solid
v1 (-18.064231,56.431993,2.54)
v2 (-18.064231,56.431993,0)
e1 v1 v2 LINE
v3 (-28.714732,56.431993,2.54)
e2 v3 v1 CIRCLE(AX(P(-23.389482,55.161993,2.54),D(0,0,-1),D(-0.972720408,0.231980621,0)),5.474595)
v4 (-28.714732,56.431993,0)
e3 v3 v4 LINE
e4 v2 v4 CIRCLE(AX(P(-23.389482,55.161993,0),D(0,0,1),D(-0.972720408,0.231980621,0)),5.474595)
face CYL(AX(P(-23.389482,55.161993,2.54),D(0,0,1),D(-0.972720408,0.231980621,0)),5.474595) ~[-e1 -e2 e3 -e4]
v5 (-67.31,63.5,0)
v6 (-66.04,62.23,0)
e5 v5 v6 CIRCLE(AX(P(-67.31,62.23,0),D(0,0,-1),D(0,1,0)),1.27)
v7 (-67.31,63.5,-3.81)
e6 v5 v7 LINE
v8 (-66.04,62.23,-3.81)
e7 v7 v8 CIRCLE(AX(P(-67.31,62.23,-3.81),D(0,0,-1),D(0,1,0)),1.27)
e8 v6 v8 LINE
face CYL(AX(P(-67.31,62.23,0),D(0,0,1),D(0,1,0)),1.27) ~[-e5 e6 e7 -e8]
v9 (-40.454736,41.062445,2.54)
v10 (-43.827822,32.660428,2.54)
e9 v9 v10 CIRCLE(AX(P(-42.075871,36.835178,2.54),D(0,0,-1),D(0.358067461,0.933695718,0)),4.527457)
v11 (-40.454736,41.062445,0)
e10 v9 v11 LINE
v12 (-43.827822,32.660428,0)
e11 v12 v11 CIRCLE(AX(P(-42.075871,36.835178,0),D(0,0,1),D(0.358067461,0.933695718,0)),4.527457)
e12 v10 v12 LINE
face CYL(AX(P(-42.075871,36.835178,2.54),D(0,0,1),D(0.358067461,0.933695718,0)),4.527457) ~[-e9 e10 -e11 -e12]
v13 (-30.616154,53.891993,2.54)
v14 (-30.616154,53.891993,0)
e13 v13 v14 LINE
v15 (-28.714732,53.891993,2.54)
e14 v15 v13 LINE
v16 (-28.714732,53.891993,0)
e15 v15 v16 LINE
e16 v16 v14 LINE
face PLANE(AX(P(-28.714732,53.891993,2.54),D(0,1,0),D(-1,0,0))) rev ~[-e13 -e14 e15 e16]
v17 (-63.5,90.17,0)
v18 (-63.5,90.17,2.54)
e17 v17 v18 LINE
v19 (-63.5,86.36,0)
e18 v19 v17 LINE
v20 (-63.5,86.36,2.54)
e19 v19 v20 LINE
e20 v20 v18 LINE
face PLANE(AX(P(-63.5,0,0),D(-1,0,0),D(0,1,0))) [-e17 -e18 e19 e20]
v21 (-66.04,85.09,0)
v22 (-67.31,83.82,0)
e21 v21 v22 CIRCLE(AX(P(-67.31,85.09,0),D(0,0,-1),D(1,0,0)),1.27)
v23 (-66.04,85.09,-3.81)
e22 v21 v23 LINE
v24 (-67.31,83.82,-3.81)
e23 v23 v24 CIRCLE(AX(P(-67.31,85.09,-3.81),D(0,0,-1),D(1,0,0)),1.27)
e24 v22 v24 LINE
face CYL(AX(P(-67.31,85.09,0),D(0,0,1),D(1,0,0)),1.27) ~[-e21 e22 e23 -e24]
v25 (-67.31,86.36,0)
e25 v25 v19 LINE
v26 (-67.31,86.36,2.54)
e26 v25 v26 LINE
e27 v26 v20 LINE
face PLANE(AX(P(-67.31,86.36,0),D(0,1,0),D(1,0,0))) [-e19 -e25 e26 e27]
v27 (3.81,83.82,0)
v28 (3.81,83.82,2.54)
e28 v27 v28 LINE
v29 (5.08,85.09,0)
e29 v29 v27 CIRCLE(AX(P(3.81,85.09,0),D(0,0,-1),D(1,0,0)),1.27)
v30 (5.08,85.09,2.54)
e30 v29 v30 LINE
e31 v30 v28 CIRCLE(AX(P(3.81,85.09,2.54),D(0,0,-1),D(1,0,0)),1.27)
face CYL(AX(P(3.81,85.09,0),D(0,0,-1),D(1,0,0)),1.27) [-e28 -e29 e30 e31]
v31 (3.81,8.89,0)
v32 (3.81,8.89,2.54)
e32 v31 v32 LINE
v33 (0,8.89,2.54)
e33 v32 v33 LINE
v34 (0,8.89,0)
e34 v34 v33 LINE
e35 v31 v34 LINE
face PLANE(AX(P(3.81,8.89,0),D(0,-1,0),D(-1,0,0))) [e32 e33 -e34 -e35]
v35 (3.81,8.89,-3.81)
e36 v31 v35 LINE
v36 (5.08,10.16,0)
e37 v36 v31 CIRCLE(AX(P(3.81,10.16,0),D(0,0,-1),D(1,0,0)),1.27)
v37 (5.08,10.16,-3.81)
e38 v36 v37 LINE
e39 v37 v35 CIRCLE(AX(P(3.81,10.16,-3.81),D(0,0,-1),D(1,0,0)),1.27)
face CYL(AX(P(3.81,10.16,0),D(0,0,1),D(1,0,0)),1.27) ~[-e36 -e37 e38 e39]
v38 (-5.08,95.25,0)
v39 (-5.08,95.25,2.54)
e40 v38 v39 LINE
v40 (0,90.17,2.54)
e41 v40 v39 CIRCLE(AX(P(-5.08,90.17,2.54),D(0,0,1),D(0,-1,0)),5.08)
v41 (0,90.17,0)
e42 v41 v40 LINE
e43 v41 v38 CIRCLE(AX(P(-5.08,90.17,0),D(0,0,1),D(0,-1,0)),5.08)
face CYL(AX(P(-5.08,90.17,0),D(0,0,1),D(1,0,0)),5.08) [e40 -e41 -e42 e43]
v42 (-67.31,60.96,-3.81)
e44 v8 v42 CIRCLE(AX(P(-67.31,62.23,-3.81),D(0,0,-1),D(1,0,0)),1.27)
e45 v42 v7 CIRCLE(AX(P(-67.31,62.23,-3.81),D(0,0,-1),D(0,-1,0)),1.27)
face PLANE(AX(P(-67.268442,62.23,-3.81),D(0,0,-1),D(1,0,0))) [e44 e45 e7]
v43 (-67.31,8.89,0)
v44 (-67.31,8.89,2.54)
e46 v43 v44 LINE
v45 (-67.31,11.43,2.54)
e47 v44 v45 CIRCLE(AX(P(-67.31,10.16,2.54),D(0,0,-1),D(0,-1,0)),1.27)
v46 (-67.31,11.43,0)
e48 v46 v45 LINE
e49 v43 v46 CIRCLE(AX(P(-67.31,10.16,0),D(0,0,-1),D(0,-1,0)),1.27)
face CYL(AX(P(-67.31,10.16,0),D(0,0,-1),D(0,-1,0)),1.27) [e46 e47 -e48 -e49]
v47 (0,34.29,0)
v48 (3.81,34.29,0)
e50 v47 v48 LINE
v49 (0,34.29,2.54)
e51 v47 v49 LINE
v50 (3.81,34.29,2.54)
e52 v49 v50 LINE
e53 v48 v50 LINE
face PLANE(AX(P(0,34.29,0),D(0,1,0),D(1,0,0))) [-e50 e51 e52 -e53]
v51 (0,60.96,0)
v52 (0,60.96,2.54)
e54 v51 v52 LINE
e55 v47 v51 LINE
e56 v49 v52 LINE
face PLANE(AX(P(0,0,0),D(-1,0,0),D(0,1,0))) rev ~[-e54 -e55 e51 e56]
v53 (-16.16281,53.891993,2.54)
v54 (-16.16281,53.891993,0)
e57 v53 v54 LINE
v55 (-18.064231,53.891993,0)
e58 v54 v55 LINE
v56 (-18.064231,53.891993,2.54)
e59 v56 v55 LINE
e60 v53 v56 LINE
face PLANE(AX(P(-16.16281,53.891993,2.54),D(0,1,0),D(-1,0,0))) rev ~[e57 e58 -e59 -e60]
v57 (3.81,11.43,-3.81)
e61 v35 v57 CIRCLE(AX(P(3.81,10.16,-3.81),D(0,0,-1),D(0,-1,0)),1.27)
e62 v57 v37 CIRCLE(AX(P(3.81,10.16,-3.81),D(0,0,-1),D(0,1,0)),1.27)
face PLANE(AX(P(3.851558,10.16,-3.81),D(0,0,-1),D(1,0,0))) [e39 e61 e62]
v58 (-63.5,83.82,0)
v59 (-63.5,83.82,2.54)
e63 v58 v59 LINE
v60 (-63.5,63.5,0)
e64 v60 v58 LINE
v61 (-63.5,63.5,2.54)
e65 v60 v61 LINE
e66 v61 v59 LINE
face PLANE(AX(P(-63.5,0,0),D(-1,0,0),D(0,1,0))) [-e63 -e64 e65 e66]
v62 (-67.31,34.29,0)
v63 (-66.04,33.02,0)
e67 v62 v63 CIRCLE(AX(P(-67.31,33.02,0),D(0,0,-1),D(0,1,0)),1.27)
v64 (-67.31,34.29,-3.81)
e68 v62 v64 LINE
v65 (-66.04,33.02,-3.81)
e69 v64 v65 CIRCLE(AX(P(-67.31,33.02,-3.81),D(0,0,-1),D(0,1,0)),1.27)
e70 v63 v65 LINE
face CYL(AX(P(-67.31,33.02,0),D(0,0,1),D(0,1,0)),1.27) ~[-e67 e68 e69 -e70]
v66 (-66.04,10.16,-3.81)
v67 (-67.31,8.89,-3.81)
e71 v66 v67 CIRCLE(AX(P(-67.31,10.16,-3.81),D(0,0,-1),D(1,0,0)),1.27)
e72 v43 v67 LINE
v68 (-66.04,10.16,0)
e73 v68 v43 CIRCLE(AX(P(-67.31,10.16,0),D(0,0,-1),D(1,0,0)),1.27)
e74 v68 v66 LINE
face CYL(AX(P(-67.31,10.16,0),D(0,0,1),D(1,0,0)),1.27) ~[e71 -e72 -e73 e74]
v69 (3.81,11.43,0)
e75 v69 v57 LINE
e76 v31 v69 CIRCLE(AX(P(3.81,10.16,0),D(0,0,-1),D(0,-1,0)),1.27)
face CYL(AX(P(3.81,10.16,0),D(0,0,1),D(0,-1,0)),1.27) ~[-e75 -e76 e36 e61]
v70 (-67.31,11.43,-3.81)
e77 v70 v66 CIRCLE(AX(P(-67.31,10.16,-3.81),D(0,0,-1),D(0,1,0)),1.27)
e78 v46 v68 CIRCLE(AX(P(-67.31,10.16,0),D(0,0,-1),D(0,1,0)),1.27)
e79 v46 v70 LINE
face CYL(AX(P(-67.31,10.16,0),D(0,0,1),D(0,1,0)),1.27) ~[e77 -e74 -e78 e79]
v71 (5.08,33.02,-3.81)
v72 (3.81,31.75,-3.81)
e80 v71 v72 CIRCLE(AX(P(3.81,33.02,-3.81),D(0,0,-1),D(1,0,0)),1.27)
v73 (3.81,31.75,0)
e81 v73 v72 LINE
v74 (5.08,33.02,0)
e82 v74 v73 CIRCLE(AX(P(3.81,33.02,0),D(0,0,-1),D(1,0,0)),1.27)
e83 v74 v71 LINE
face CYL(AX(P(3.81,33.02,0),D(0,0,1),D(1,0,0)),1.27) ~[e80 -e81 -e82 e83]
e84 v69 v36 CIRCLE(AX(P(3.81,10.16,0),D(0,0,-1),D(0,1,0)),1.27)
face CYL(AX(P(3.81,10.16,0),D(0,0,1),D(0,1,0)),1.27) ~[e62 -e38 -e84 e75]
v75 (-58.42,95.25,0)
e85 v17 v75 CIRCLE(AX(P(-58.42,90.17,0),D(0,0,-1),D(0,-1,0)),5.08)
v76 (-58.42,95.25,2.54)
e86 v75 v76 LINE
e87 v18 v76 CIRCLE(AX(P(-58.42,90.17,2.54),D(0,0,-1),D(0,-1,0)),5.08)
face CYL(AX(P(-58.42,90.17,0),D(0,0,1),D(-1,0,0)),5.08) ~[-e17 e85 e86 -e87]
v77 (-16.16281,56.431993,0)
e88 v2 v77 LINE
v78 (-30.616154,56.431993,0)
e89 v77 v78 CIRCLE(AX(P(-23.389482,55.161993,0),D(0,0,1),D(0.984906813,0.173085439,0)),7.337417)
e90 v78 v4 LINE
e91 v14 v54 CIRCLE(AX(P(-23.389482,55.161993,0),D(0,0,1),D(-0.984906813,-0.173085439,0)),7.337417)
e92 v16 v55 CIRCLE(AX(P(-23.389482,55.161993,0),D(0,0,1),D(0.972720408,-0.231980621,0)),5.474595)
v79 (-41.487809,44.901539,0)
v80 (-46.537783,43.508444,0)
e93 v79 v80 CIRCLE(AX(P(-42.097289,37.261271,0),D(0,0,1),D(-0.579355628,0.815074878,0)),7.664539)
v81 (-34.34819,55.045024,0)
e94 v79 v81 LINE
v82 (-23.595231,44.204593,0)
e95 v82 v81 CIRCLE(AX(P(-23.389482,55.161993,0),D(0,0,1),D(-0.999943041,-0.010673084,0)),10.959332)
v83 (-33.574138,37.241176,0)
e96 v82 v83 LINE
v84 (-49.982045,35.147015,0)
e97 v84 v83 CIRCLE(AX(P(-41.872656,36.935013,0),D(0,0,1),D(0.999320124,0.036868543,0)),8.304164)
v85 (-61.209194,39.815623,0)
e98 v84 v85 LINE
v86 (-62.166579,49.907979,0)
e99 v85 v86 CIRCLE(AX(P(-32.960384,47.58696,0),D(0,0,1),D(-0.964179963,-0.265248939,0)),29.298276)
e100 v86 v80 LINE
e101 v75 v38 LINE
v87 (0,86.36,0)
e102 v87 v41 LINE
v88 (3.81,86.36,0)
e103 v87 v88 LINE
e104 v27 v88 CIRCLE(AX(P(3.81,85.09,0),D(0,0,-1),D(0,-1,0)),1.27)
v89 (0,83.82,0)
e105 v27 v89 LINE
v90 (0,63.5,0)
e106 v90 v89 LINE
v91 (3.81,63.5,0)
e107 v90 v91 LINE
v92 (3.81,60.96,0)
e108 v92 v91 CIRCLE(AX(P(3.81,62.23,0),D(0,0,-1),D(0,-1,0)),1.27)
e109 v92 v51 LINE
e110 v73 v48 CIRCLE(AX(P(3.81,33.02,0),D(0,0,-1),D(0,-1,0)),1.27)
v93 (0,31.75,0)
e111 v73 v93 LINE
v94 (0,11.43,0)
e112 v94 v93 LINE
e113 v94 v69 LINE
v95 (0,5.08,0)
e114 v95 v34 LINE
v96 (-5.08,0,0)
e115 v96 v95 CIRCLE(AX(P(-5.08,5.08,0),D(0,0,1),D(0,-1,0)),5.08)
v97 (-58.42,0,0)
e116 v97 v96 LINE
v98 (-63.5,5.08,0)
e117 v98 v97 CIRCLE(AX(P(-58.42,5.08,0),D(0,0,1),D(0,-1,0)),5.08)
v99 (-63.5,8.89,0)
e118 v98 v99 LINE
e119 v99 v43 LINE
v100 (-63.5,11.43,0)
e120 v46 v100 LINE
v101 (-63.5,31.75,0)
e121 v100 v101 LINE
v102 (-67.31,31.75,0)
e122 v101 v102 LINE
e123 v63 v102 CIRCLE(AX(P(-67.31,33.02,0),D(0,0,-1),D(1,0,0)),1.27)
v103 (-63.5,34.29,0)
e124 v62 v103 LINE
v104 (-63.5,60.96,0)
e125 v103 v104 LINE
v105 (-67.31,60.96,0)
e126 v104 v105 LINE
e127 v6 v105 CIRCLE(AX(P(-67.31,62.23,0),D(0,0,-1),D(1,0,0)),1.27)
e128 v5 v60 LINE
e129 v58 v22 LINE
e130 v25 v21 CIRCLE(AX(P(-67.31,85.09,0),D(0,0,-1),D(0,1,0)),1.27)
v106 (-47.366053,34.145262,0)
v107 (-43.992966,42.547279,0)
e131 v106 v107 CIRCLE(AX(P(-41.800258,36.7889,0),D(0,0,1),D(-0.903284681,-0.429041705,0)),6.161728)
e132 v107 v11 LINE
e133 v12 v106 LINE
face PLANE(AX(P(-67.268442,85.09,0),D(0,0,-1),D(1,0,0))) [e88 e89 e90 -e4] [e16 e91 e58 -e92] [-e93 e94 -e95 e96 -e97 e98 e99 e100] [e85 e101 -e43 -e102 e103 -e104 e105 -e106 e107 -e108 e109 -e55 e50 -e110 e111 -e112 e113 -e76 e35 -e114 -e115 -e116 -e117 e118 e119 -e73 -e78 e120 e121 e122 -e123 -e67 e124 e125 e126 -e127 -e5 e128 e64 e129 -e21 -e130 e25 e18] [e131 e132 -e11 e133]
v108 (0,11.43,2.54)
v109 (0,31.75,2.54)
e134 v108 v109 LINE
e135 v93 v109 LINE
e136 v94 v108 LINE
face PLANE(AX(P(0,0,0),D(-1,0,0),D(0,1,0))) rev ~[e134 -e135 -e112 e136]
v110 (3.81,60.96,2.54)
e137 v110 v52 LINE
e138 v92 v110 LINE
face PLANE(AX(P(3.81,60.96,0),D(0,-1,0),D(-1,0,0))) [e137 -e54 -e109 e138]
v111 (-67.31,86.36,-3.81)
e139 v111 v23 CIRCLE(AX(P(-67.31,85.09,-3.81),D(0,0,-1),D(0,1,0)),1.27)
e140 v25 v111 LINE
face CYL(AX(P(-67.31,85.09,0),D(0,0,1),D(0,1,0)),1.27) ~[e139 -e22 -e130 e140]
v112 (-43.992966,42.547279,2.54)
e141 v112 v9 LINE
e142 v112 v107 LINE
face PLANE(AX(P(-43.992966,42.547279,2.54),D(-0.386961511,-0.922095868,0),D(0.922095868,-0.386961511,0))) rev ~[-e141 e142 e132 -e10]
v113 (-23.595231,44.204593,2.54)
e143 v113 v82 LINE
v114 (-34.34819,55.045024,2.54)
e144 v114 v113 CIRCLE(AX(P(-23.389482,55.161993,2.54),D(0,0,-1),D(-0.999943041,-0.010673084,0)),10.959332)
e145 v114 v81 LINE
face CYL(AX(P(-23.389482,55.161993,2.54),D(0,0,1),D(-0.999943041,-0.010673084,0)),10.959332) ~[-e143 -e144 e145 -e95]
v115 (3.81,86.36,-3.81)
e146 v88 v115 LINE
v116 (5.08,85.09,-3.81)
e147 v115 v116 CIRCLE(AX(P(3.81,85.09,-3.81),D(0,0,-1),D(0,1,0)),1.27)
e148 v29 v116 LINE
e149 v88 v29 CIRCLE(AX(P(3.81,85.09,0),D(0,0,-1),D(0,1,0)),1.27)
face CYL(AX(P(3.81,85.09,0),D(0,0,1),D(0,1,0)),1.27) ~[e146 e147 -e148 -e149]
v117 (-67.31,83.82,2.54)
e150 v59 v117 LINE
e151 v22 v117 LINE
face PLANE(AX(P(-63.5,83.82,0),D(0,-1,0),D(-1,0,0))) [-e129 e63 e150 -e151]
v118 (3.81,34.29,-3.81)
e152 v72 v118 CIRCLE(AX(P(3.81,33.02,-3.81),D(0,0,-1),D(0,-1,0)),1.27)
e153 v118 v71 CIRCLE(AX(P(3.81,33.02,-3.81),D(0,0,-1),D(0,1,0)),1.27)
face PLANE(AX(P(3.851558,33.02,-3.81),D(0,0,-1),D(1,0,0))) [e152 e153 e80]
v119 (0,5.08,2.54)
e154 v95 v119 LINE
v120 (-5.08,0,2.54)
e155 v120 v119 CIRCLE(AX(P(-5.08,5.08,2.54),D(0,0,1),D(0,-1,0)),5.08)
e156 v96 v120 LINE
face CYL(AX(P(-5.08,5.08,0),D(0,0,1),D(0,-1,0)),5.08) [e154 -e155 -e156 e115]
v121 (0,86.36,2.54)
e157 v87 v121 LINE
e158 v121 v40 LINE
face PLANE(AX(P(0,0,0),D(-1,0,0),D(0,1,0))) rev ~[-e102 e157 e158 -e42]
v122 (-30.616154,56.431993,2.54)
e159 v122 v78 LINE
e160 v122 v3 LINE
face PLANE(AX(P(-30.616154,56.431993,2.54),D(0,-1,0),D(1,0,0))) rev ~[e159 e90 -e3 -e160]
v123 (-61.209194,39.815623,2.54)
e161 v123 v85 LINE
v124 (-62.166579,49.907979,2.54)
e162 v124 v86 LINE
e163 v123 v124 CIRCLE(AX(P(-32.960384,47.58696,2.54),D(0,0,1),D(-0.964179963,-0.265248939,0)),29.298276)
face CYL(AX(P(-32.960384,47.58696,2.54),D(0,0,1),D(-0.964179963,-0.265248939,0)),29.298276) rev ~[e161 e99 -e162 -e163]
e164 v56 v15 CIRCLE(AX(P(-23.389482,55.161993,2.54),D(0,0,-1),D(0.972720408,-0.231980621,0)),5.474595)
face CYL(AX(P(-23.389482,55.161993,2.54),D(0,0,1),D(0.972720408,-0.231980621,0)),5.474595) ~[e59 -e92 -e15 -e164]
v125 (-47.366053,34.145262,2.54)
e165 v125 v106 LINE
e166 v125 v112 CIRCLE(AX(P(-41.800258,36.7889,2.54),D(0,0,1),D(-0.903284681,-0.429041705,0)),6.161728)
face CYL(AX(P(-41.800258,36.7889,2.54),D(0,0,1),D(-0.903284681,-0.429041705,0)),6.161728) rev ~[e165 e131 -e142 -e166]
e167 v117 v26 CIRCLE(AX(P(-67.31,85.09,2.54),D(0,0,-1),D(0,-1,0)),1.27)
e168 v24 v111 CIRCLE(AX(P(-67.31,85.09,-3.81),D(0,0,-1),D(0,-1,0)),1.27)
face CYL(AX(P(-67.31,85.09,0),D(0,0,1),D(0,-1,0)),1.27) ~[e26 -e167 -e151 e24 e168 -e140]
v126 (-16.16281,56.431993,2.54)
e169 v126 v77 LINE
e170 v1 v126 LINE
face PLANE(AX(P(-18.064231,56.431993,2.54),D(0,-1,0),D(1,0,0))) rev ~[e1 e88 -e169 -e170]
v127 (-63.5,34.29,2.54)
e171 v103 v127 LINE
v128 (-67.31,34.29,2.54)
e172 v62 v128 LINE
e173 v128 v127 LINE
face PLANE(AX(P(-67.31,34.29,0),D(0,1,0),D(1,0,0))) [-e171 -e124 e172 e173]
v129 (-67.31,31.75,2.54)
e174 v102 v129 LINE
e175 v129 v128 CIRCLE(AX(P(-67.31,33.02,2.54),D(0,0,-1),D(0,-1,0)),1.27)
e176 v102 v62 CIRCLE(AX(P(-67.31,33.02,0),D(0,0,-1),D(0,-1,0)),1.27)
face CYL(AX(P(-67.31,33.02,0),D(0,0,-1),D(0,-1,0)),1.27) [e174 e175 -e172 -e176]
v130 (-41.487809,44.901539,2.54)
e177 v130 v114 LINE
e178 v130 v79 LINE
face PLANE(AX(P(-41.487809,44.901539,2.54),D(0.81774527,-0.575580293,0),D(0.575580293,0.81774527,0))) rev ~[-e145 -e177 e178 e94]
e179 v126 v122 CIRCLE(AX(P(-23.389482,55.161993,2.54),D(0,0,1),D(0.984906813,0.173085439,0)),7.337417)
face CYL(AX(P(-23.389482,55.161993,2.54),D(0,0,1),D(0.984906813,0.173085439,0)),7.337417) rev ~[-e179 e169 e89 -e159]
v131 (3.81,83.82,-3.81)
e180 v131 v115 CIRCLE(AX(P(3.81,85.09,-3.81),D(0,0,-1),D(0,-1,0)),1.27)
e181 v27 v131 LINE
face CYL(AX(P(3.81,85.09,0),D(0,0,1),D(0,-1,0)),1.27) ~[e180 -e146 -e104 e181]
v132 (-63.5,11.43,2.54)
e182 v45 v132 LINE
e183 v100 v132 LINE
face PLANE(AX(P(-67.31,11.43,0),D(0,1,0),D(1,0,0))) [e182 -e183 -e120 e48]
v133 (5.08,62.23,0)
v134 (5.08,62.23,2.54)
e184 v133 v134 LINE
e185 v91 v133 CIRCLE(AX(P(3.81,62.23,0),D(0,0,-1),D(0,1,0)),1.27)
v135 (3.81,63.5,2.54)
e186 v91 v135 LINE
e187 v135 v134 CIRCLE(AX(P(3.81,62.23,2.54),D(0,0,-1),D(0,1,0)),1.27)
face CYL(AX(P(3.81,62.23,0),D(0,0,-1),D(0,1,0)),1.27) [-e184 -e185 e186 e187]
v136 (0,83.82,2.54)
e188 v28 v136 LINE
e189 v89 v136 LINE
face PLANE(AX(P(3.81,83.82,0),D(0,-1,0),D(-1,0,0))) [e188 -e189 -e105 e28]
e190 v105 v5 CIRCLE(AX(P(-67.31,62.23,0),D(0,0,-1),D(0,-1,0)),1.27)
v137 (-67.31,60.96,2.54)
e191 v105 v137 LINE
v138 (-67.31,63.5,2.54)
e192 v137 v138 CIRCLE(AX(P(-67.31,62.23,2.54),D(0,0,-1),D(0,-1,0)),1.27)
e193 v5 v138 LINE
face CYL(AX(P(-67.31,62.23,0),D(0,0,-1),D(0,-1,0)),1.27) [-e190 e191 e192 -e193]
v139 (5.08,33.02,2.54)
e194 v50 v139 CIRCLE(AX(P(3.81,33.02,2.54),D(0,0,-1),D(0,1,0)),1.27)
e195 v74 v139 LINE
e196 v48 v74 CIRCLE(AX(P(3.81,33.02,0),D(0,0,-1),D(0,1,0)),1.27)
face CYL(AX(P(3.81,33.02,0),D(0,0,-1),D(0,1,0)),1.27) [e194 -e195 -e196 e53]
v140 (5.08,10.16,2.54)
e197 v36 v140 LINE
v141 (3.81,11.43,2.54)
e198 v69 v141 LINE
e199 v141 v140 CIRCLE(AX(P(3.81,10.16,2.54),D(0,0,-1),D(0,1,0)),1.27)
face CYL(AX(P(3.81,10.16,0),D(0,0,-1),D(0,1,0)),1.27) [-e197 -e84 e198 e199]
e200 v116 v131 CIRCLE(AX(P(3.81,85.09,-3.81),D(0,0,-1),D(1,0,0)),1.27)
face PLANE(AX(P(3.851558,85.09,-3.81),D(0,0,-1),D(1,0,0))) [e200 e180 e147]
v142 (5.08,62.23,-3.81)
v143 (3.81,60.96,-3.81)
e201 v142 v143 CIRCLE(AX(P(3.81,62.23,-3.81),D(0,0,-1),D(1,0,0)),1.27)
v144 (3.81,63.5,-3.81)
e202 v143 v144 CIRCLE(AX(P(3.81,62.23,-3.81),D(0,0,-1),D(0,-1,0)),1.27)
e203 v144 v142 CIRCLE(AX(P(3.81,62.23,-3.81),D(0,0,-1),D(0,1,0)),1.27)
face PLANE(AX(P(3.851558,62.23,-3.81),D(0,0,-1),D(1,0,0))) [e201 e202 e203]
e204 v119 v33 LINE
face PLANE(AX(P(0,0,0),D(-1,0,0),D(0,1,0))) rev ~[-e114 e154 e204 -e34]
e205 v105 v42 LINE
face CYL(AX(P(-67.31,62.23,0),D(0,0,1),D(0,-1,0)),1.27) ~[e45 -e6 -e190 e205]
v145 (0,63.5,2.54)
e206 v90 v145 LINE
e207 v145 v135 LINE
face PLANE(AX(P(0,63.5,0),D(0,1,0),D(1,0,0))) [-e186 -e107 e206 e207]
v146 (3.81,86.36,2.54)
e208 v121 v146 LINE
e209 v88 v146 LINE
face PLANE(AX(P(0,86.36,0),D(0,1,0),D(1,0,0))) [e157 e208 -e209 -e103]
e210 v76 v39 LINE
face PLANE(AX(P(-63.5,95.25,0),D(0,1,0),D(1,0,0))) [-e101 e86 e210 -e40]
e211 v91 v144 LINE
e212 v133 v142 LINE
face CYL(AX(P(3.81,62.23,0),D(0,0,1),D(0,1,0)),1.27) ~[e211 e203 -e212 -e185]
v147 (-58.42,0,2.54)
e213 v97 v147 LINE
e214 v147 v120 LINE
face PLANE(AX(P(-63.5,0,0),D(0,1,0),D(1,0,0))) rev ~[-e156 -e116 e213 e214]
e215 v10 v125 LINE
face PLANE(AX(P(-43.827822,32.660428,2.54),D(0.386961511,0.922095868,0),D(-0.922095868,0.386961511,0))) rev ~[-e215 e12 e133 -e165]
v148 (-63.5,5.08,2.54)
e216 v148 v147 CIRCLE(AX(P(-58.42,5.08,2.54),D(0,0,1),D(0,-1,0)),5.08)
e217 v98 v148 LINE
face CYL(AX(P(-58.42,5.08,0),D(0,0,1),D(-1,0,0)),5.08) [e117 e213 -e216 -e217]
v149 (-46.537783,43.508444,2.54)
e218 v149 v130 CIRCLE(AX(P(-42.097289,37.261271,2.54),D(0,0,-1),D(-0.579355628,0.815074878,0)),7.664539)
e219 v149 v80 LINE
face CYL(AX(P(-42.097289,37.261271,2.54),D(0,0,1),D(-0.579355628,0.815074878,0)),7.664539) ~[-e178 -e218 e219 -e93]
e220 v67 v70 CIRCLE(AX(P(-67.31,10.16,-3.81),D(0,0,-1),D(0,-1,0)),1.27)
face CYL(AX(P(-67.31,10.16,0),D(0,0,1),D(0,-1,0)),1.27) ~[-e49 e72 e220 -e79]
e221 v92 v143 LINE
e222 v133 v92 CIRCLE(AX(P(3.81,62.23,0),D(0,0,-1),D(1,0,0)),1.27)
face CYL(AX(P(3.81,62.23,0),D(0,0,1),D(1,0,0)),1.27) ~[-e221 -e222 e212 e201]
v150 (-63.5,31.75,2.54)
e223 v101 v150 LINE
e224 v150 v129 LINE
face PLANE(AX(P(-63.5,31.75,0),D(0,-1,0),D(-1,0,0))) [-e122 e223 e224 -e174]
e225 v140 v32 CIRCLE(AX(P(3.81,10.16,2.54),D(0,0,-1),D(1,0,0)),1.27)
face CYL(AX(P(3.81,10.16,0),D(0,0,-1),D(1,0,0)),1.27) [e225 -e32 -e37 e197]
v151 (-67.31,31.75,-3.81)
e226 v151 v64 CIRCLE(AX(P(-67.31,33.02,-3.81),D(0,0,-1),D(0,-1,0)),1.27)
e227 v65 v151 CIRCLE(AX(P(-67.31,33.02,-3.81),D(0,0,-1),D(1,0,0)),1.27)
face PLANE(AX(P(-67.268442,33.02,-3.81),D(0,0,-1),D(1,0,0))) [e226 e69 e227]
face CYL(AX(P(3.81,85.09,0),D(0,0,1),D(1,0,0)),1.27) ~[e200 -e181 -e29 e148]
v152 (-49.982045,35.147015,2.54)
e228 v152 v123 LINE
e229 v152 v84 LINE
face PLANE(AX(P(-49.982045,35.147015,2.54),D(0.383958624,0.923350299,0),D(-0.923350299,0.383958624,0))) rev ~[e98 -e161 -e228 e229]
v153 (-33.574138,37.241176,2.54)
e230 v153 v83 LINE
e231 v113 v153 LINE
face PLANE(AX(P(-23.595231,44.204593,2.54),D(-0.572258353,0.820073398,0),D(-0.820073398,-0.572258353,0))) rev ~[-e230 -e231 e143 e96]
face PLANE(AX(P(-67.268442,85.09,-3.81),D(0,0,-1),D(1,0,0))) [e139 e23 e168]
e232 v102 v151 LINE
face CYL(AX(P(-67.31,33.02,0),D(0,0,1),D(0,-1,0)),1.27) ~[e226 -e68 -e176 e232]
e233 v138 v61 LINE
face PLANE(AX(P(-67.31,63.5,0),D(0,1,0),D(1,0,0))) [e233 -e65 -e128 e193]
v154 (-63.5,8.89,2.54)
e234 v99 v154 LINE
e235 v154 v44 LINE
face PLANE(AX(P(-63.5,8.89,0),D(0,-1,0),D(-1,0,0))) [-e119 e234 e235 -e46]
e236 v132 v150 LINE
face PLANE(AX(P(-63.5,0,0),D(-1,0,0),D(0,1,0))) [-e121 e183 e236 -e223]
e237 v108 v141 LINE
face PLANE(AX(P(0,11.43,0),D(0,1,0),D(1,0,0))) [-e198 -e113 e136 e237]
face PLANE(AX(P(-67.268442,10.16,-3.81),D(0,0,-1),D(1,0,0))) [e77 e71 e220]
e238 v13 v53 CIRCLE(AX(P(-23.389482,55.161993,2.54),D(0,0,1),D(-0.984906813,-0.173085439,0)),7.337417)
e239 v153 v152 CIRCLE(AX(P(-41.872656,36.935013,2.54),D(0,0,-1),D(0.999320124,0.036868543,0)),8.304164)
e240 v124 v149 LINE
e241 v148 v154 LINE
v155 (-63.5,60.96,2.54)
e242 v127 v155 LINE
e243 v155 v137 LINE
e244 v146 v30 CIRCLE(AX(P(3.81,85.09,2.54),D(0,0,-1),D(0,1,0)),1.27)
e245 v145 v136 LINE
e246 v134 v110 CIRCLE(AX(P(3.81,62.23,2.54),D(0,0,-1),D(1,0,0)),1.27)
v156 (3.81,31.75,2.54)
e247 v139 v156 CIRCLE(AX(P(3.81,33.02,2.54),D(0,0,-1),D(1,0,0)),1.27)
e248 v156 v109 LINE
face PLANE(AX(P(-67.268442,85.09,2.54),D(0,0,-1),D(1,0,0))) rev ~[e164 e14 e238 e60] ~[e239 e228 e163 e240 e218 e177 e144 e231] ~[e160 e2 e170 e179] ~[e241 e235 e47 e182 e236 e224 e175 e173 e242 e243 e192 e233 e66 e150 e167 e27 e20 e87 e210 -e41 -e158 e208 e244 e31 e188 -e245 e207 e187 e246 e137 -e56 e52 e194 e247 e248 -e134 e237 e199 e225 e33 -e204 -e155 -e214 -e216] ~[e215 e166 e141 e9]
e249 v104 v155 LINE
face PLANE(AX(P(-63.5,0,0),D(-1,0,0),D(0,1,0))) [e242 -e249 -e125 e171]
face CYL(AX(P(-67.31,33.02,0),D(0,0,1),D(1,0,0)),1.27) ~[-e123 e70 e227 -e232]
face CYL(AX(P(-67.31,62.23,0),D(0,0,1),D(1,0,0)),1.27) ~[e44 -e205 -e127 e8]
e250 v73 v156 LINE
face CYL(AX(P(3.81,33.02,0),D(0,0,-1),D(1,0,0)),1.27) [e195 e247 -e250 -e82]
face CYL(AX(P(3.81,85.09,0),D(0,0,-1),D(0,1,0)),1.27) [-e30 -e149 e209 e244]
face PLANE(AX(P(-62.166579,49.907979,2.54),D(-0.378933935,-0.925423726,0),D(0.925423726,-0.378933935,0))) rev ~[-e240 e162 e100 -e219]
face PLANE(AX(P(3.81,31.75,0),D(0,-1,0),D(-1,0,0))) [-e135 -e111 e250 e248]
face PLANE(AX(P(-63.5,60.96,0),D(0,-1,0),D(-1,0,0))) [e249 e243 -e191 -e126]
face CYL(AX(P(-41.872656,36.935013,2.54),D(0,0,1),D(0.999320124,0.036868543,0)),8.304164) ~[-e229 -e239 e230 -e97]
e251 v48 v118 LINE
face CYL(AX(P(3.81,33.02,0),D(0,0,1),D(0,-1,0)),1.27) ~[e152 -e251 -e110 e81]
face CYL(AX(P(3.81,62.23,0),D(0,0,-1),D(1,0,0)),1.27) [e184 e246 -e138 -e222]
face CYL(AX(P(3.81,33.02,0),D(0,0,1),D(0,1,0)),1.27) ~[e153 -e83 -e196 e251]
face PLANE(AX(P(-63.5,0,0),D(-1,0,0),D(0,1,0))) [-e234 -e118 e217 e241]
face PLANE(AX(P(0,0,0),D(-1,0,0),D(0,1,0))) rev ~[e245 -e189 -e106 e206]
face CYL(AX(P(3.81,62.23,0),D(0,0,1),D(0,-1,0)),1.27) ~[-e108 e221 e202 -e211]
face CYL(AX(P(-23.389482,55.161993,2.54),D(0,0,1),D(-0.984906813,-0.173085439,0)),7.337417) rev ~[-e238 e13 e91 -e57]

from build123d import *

# Parameters (mm, degrees)
F0_W          = 63.5
F0_H          = 95.25
F1_DEPTH      = 2.54
F2_R          = 5.08
F4_DEPTH      = 2.541
F6_DEPTH      = 2.54
F7_DEPTH      = 2.54
F7_DEPTH_BACK = 3.81


with BuildPart() as f1:
    # F0 (on Top) → F1 (new body)
    with BuildSketch(Plane.XY):
        with Locations((-31.75, 47.625)):
            Rectangle(F0_W, F0_H)
    extrude(amount=F1_DEPTH)

    # F2
    f2_edges = [f1.edges().sort_by_distance(p)[0] for p in [
        (-63.5, 0, 1.27),
        (0, 0, 1.27),
        (0, 95.25, 1.27),
        (-63.5, 95.25, 1.27),
    ]]
    fillet(f2_edges, radius=F2_R)

    # F3 (on face) → F4 (cut, through all)
    with BuildSketch(Plane.XY.offset(2.54)):
        with BuildLine():
            ThreePointArc((-28.7147323039, 56.4319934356), (-23.3894818135, 60.6365886522), (-18.0642313231, 56.4319934356))
            Line((-18.0642313231, 56.4319934356), (-16.1628100576, 56.4319934356))
            ThreePointArc((-16.1628100576, 56.4319934356), (-23.3894818135, 62.4994101926), (-30.6161535693, 56.4319934356))
            Line((-30.6161535693, 56.4319934356), (-28.7147323039, 56.4319934356))
        make_face()
        with BuildLine():
            Line((-16.1628100576, 53.8919934356), (-18.0642313231, 53.8919934356))
            ThreePointArc((-18.0642313231, 53.8919934356), (-23.3894818135, 49.687398219), (-28.7147323039, 53.8919934356))
            Line((-28.7147323039, 53.8919934356), (-30.6161535693, 53.8919934356))
            ThreePointArc((-30.6161535693, 53.8919934356), (-23.3894818135, 47.8245766785), (-16.1628100576, 53.8919934356))
        make_face()
        with BuildLine():
            ThreePointArc((-61.2091943622, 39.8156233132), (-3.7930509667, 50.3538420797), (-62.1665790677, 49.9079786241))
            Line((-62.1665790677, 49.9079786241), (-46.5377829969, 43.5084439814))
            ThreePointArc((-46.5377829969, 43.5084439814), (-44.1355102318, 44.6498304086), (-41.4878092706, 44.9015386403))
            Line((-41.4878092706, 44.9015386403), (-34.3481898308, 55.0450235605))
            ThreePointArc((-34.3481898308, 55.0450235605), (-15.6087357363, 62.8799564987), (-23.5952306539, 44.2045927048))
            Line((-23.5952306539, 44.2045927048), (-33.5741378367, 37.2411757708))
            ThreePointArc((-33.5741378367, 37.2411757708), (-40.8213137183, 28.6976707936), (-49.9820448458, 35.1470150054))
            Line((-49.9820448458, 35.1470150054), (-61.2091943622, 39.8156233132))
        make_face()
        with BuildLine():
            ThreePointArc((-47.366052866, 34.1452620924), (-36.0821241079, 34.4932892416), (-43.9929661581, 42.5472788847))
            Line((-43.9929661581, 42.5472788847), (-40.4547355891, 41.0624451561))
            ThreePointArc((-40.4547355891, 41.0624451561), (-37.8743531006, 35.1484300856), (-43.827822297, 32.6604283638))
            Line((-43.827822297, 32.6604283638), (-47.366052866, 34.1452620924))
        make_face()
    extrude(amount=-F4_DEPTH, mode=Mode.SUBTRACT)

    # F5 (on face) → F6 (join)
    with BuildSketch(Plane(origin=(0, 0, 0), x_dir=(1, 0, 0), z_dir=(0, 0, -1))):
        with BuildLine():
            Line((-63.5, -86.36), (-63.5, -83.82))
            Line((-63.5, -83.82), (-67.31, -83.82))
            ThreePointArc((-67.31, -83.82), (-66.4119743879, -84.1919743879), (-66.04, -85.09))
            ThreePointArc((-66.04, -85.09), (-66.4119743879, -85.9880256121), (-67.31, -86.36))
            Line((-67.31, -86.36), (-63.5, -86.36))
        make_face()
        with BuildLine():
            Line((-63.5, -63.5), (-63.5, -60.96))
            Line((-63.5, -60.96), (-67.31, -60.96))
            ThreePointArc((-67.31, -60.96), (-66.4119743879, -61.3319743879), (-66.04, -62.23))
            ThreePointArc((-66.04, -62.23), (-66.4119743879, -63.1280256121), (-67.31, -63.5))
            Line((-67.31, -63.5), (-63.5, -63.5))
        make_face()
        with BuildLine():
            Line((-63.5, -34.29), (-63.5, -31.75))
            Line((-63.5, -31.75), (-67.31, -31.75))
            ThreePointArc((-67.31, -31.75), (-66.4119743879, -32.1219743879), (-66.04, -33.02))
            ThreePointArc((-66.04, -33.02), (-66.4119743879, -33.9180256121), (-67.31, -34.29))
            Line((-67.31, -34.29), (-63.5, -34.29))
        make_face()
        with BuildLine():
            ThreePointArc((-67.31, -8.89), (-66.4119743879, -9.2619743879), (-66.04, -10.16))
            ThreePointArc((-66.04, -10.16), (-66.4119743879, -11.0580256121), (-67.31, -11.43))
            Line((-67.31, -11.43), (-63.5, -11.43))
            Line((-63.5, -11.43), (-63.5, -8.89))
            Line((-63.5, -8.89), (-67.31, -8.89))
        make_face()
        with BuildLine():
            Line((3.81, -8.89), (0, -8.89))
            Line((0, -8.89), (0, -11.43))
            Line((0, -11.43), (3.81, -11.43))
            ThreePointArc((3.81, -11.43), (2.54, -10.16), (3.81, -8.89))
        make_face()
        with BuildLine():
            Line((3.81, -31.75), (0, -31.75))
            Line((0, -31.75), (0, -34.29))
            Line((0, -34.29), (3.81, -34.29))
            ThreePointArc((3.81, -34.29), (2.54, -33.02), (3.81, -31.75))
        make_face()
        with BuildLine():
            Line((3.81, -60.96), (0, -60.96))
            Line((0, -60.96), (0, -63.5))
            Line((0, -63.5), (3.81, -63.5))
            ThreePointArc((3.81, -63.5), (2.54, -62.23), (3.81, -60.96))
        make_face()
        with BuildLine():
            Line((3.81, -83.82), (0, -83.82))
            Line((0, -83.82), (0, -86.36))
            Line((0, -86.36), (3.81, -86.36))
            ThreePointArc((3.81, -86.36), (2.54, -85.09), (3.81, -83.82))
        make_face()
    extrude(amount=-F6_DEPTH)

    # F5 (on face) → F7 (join, two sides)
    with BuildSketch(Plane(origin=(0, 0, 0), x_dir=(1, 0, 0), z_dir=(0, 0, -1))) as f7_sk:
        with BuildLine():
            ThreePointArc((-66.04, -85.09), (-66.4119743879, -84.1919743879), (-67.31, -83.82))
            ThreePointArc((-67.31, -83.82), (-68.58, -85.09), (-67.31, -86.36))
            ThreePointArc((-67.31, -86.36), (-66.4119743879, -85.9880256121), (-66.04, -85.09))
        make_face()
        with BuildLine():
            ThreePointArc((-66.04, -62.23), (-66.4119743879, -61.3319743879), (-67.31, -60.96))
            ThreePointArc((-67.31, -60.96), (-68.58, -62.23), (-67.31, -63.5))
            ThreePointArc((-67.31, -63.5), (-66.4119743879, -63.1280256121), (-66.04, -62.23))
        make_face()
        with BuildLine():
            ThreePointArc((-66.04, -33.02), (-66.4119743879, -32.1219743879), (-67.31, -31.75))
            ThreePointArc((-67.31, -31.75), (-68.58, -33.02), (-67.31, -34.29))
            ThreePointArc((-67.31, -34.29), (-66.4119743879, -33.9180256121), (-66.04, -33.02))
        make_face()
        with BuildLine():
            ThreePointArc((-67.31, -11.43), (-66.4119743879, -11.0580256121), (-66.04, -10.16))
            ThreePointArc((-66.04, -10.16), (-66.4119743879, -9.2619743879), (-67.31, -8.89))
            ThreePointArc((-67.31, -8.89), (-68.58, -10.16), (-67.31, -11.43))
        make_face()
        with BuildLine():
            ThreePointArc((5.08, -10.16), (4.7080256121, -9.2619743879), (3.81, -8.89))
            ThreePointArc((3.81, -8.89), (2.54, -10.16), (3.81, -11.43))
            ThreePointArc((3.81, -11.43), (4.7080256121, -11.0580256121), (5.08, -10.16))
        make_face()
        with BuildLine():
            ThreePointArc((5.08, -33.02), (4.7080256121, -32.1219743879), (3.81, -31.75))
            ThreePointArc((3.81, -31.75), (2.54, -33.02), (3.81, -34.29))
            ThreePointArc((3.81, -34.29), (4.7080256121, -33.9180256121), (5.08, -33.02))
        make_face()
        with BuildLine():
            ThreePointArc((5.08, -62.23), (4.7080256121, -61.3319743879), (3.81, -60.96))
            ThreePointArc((3.81, -60.96), (2.54, -62.23), (3.81, -63.5))
            ThreePointArc((3.81, -63.5), (4.7080256121, -63.1280256121), (5.08, -62.23))
        make_face()
        with BuildLine():
            ThreePointArc((5.08, -85.09), (4.7080256121, -84.1919743879), (3.81, -83.82))
            ThreePointArc((3.81, -83.82), (2.54, -85.09), (3.81, -86.36))
            ThreePointArc((3.81, -86.36), (4.7080256121, -85.9880256121), (5.08, -85.09))
        make_face()
    extrude(amount=-F7_DEPTH)
    extrude(f7_sk.sketch, amount=F7_DEPTH_BACK)


solid = f1.part
